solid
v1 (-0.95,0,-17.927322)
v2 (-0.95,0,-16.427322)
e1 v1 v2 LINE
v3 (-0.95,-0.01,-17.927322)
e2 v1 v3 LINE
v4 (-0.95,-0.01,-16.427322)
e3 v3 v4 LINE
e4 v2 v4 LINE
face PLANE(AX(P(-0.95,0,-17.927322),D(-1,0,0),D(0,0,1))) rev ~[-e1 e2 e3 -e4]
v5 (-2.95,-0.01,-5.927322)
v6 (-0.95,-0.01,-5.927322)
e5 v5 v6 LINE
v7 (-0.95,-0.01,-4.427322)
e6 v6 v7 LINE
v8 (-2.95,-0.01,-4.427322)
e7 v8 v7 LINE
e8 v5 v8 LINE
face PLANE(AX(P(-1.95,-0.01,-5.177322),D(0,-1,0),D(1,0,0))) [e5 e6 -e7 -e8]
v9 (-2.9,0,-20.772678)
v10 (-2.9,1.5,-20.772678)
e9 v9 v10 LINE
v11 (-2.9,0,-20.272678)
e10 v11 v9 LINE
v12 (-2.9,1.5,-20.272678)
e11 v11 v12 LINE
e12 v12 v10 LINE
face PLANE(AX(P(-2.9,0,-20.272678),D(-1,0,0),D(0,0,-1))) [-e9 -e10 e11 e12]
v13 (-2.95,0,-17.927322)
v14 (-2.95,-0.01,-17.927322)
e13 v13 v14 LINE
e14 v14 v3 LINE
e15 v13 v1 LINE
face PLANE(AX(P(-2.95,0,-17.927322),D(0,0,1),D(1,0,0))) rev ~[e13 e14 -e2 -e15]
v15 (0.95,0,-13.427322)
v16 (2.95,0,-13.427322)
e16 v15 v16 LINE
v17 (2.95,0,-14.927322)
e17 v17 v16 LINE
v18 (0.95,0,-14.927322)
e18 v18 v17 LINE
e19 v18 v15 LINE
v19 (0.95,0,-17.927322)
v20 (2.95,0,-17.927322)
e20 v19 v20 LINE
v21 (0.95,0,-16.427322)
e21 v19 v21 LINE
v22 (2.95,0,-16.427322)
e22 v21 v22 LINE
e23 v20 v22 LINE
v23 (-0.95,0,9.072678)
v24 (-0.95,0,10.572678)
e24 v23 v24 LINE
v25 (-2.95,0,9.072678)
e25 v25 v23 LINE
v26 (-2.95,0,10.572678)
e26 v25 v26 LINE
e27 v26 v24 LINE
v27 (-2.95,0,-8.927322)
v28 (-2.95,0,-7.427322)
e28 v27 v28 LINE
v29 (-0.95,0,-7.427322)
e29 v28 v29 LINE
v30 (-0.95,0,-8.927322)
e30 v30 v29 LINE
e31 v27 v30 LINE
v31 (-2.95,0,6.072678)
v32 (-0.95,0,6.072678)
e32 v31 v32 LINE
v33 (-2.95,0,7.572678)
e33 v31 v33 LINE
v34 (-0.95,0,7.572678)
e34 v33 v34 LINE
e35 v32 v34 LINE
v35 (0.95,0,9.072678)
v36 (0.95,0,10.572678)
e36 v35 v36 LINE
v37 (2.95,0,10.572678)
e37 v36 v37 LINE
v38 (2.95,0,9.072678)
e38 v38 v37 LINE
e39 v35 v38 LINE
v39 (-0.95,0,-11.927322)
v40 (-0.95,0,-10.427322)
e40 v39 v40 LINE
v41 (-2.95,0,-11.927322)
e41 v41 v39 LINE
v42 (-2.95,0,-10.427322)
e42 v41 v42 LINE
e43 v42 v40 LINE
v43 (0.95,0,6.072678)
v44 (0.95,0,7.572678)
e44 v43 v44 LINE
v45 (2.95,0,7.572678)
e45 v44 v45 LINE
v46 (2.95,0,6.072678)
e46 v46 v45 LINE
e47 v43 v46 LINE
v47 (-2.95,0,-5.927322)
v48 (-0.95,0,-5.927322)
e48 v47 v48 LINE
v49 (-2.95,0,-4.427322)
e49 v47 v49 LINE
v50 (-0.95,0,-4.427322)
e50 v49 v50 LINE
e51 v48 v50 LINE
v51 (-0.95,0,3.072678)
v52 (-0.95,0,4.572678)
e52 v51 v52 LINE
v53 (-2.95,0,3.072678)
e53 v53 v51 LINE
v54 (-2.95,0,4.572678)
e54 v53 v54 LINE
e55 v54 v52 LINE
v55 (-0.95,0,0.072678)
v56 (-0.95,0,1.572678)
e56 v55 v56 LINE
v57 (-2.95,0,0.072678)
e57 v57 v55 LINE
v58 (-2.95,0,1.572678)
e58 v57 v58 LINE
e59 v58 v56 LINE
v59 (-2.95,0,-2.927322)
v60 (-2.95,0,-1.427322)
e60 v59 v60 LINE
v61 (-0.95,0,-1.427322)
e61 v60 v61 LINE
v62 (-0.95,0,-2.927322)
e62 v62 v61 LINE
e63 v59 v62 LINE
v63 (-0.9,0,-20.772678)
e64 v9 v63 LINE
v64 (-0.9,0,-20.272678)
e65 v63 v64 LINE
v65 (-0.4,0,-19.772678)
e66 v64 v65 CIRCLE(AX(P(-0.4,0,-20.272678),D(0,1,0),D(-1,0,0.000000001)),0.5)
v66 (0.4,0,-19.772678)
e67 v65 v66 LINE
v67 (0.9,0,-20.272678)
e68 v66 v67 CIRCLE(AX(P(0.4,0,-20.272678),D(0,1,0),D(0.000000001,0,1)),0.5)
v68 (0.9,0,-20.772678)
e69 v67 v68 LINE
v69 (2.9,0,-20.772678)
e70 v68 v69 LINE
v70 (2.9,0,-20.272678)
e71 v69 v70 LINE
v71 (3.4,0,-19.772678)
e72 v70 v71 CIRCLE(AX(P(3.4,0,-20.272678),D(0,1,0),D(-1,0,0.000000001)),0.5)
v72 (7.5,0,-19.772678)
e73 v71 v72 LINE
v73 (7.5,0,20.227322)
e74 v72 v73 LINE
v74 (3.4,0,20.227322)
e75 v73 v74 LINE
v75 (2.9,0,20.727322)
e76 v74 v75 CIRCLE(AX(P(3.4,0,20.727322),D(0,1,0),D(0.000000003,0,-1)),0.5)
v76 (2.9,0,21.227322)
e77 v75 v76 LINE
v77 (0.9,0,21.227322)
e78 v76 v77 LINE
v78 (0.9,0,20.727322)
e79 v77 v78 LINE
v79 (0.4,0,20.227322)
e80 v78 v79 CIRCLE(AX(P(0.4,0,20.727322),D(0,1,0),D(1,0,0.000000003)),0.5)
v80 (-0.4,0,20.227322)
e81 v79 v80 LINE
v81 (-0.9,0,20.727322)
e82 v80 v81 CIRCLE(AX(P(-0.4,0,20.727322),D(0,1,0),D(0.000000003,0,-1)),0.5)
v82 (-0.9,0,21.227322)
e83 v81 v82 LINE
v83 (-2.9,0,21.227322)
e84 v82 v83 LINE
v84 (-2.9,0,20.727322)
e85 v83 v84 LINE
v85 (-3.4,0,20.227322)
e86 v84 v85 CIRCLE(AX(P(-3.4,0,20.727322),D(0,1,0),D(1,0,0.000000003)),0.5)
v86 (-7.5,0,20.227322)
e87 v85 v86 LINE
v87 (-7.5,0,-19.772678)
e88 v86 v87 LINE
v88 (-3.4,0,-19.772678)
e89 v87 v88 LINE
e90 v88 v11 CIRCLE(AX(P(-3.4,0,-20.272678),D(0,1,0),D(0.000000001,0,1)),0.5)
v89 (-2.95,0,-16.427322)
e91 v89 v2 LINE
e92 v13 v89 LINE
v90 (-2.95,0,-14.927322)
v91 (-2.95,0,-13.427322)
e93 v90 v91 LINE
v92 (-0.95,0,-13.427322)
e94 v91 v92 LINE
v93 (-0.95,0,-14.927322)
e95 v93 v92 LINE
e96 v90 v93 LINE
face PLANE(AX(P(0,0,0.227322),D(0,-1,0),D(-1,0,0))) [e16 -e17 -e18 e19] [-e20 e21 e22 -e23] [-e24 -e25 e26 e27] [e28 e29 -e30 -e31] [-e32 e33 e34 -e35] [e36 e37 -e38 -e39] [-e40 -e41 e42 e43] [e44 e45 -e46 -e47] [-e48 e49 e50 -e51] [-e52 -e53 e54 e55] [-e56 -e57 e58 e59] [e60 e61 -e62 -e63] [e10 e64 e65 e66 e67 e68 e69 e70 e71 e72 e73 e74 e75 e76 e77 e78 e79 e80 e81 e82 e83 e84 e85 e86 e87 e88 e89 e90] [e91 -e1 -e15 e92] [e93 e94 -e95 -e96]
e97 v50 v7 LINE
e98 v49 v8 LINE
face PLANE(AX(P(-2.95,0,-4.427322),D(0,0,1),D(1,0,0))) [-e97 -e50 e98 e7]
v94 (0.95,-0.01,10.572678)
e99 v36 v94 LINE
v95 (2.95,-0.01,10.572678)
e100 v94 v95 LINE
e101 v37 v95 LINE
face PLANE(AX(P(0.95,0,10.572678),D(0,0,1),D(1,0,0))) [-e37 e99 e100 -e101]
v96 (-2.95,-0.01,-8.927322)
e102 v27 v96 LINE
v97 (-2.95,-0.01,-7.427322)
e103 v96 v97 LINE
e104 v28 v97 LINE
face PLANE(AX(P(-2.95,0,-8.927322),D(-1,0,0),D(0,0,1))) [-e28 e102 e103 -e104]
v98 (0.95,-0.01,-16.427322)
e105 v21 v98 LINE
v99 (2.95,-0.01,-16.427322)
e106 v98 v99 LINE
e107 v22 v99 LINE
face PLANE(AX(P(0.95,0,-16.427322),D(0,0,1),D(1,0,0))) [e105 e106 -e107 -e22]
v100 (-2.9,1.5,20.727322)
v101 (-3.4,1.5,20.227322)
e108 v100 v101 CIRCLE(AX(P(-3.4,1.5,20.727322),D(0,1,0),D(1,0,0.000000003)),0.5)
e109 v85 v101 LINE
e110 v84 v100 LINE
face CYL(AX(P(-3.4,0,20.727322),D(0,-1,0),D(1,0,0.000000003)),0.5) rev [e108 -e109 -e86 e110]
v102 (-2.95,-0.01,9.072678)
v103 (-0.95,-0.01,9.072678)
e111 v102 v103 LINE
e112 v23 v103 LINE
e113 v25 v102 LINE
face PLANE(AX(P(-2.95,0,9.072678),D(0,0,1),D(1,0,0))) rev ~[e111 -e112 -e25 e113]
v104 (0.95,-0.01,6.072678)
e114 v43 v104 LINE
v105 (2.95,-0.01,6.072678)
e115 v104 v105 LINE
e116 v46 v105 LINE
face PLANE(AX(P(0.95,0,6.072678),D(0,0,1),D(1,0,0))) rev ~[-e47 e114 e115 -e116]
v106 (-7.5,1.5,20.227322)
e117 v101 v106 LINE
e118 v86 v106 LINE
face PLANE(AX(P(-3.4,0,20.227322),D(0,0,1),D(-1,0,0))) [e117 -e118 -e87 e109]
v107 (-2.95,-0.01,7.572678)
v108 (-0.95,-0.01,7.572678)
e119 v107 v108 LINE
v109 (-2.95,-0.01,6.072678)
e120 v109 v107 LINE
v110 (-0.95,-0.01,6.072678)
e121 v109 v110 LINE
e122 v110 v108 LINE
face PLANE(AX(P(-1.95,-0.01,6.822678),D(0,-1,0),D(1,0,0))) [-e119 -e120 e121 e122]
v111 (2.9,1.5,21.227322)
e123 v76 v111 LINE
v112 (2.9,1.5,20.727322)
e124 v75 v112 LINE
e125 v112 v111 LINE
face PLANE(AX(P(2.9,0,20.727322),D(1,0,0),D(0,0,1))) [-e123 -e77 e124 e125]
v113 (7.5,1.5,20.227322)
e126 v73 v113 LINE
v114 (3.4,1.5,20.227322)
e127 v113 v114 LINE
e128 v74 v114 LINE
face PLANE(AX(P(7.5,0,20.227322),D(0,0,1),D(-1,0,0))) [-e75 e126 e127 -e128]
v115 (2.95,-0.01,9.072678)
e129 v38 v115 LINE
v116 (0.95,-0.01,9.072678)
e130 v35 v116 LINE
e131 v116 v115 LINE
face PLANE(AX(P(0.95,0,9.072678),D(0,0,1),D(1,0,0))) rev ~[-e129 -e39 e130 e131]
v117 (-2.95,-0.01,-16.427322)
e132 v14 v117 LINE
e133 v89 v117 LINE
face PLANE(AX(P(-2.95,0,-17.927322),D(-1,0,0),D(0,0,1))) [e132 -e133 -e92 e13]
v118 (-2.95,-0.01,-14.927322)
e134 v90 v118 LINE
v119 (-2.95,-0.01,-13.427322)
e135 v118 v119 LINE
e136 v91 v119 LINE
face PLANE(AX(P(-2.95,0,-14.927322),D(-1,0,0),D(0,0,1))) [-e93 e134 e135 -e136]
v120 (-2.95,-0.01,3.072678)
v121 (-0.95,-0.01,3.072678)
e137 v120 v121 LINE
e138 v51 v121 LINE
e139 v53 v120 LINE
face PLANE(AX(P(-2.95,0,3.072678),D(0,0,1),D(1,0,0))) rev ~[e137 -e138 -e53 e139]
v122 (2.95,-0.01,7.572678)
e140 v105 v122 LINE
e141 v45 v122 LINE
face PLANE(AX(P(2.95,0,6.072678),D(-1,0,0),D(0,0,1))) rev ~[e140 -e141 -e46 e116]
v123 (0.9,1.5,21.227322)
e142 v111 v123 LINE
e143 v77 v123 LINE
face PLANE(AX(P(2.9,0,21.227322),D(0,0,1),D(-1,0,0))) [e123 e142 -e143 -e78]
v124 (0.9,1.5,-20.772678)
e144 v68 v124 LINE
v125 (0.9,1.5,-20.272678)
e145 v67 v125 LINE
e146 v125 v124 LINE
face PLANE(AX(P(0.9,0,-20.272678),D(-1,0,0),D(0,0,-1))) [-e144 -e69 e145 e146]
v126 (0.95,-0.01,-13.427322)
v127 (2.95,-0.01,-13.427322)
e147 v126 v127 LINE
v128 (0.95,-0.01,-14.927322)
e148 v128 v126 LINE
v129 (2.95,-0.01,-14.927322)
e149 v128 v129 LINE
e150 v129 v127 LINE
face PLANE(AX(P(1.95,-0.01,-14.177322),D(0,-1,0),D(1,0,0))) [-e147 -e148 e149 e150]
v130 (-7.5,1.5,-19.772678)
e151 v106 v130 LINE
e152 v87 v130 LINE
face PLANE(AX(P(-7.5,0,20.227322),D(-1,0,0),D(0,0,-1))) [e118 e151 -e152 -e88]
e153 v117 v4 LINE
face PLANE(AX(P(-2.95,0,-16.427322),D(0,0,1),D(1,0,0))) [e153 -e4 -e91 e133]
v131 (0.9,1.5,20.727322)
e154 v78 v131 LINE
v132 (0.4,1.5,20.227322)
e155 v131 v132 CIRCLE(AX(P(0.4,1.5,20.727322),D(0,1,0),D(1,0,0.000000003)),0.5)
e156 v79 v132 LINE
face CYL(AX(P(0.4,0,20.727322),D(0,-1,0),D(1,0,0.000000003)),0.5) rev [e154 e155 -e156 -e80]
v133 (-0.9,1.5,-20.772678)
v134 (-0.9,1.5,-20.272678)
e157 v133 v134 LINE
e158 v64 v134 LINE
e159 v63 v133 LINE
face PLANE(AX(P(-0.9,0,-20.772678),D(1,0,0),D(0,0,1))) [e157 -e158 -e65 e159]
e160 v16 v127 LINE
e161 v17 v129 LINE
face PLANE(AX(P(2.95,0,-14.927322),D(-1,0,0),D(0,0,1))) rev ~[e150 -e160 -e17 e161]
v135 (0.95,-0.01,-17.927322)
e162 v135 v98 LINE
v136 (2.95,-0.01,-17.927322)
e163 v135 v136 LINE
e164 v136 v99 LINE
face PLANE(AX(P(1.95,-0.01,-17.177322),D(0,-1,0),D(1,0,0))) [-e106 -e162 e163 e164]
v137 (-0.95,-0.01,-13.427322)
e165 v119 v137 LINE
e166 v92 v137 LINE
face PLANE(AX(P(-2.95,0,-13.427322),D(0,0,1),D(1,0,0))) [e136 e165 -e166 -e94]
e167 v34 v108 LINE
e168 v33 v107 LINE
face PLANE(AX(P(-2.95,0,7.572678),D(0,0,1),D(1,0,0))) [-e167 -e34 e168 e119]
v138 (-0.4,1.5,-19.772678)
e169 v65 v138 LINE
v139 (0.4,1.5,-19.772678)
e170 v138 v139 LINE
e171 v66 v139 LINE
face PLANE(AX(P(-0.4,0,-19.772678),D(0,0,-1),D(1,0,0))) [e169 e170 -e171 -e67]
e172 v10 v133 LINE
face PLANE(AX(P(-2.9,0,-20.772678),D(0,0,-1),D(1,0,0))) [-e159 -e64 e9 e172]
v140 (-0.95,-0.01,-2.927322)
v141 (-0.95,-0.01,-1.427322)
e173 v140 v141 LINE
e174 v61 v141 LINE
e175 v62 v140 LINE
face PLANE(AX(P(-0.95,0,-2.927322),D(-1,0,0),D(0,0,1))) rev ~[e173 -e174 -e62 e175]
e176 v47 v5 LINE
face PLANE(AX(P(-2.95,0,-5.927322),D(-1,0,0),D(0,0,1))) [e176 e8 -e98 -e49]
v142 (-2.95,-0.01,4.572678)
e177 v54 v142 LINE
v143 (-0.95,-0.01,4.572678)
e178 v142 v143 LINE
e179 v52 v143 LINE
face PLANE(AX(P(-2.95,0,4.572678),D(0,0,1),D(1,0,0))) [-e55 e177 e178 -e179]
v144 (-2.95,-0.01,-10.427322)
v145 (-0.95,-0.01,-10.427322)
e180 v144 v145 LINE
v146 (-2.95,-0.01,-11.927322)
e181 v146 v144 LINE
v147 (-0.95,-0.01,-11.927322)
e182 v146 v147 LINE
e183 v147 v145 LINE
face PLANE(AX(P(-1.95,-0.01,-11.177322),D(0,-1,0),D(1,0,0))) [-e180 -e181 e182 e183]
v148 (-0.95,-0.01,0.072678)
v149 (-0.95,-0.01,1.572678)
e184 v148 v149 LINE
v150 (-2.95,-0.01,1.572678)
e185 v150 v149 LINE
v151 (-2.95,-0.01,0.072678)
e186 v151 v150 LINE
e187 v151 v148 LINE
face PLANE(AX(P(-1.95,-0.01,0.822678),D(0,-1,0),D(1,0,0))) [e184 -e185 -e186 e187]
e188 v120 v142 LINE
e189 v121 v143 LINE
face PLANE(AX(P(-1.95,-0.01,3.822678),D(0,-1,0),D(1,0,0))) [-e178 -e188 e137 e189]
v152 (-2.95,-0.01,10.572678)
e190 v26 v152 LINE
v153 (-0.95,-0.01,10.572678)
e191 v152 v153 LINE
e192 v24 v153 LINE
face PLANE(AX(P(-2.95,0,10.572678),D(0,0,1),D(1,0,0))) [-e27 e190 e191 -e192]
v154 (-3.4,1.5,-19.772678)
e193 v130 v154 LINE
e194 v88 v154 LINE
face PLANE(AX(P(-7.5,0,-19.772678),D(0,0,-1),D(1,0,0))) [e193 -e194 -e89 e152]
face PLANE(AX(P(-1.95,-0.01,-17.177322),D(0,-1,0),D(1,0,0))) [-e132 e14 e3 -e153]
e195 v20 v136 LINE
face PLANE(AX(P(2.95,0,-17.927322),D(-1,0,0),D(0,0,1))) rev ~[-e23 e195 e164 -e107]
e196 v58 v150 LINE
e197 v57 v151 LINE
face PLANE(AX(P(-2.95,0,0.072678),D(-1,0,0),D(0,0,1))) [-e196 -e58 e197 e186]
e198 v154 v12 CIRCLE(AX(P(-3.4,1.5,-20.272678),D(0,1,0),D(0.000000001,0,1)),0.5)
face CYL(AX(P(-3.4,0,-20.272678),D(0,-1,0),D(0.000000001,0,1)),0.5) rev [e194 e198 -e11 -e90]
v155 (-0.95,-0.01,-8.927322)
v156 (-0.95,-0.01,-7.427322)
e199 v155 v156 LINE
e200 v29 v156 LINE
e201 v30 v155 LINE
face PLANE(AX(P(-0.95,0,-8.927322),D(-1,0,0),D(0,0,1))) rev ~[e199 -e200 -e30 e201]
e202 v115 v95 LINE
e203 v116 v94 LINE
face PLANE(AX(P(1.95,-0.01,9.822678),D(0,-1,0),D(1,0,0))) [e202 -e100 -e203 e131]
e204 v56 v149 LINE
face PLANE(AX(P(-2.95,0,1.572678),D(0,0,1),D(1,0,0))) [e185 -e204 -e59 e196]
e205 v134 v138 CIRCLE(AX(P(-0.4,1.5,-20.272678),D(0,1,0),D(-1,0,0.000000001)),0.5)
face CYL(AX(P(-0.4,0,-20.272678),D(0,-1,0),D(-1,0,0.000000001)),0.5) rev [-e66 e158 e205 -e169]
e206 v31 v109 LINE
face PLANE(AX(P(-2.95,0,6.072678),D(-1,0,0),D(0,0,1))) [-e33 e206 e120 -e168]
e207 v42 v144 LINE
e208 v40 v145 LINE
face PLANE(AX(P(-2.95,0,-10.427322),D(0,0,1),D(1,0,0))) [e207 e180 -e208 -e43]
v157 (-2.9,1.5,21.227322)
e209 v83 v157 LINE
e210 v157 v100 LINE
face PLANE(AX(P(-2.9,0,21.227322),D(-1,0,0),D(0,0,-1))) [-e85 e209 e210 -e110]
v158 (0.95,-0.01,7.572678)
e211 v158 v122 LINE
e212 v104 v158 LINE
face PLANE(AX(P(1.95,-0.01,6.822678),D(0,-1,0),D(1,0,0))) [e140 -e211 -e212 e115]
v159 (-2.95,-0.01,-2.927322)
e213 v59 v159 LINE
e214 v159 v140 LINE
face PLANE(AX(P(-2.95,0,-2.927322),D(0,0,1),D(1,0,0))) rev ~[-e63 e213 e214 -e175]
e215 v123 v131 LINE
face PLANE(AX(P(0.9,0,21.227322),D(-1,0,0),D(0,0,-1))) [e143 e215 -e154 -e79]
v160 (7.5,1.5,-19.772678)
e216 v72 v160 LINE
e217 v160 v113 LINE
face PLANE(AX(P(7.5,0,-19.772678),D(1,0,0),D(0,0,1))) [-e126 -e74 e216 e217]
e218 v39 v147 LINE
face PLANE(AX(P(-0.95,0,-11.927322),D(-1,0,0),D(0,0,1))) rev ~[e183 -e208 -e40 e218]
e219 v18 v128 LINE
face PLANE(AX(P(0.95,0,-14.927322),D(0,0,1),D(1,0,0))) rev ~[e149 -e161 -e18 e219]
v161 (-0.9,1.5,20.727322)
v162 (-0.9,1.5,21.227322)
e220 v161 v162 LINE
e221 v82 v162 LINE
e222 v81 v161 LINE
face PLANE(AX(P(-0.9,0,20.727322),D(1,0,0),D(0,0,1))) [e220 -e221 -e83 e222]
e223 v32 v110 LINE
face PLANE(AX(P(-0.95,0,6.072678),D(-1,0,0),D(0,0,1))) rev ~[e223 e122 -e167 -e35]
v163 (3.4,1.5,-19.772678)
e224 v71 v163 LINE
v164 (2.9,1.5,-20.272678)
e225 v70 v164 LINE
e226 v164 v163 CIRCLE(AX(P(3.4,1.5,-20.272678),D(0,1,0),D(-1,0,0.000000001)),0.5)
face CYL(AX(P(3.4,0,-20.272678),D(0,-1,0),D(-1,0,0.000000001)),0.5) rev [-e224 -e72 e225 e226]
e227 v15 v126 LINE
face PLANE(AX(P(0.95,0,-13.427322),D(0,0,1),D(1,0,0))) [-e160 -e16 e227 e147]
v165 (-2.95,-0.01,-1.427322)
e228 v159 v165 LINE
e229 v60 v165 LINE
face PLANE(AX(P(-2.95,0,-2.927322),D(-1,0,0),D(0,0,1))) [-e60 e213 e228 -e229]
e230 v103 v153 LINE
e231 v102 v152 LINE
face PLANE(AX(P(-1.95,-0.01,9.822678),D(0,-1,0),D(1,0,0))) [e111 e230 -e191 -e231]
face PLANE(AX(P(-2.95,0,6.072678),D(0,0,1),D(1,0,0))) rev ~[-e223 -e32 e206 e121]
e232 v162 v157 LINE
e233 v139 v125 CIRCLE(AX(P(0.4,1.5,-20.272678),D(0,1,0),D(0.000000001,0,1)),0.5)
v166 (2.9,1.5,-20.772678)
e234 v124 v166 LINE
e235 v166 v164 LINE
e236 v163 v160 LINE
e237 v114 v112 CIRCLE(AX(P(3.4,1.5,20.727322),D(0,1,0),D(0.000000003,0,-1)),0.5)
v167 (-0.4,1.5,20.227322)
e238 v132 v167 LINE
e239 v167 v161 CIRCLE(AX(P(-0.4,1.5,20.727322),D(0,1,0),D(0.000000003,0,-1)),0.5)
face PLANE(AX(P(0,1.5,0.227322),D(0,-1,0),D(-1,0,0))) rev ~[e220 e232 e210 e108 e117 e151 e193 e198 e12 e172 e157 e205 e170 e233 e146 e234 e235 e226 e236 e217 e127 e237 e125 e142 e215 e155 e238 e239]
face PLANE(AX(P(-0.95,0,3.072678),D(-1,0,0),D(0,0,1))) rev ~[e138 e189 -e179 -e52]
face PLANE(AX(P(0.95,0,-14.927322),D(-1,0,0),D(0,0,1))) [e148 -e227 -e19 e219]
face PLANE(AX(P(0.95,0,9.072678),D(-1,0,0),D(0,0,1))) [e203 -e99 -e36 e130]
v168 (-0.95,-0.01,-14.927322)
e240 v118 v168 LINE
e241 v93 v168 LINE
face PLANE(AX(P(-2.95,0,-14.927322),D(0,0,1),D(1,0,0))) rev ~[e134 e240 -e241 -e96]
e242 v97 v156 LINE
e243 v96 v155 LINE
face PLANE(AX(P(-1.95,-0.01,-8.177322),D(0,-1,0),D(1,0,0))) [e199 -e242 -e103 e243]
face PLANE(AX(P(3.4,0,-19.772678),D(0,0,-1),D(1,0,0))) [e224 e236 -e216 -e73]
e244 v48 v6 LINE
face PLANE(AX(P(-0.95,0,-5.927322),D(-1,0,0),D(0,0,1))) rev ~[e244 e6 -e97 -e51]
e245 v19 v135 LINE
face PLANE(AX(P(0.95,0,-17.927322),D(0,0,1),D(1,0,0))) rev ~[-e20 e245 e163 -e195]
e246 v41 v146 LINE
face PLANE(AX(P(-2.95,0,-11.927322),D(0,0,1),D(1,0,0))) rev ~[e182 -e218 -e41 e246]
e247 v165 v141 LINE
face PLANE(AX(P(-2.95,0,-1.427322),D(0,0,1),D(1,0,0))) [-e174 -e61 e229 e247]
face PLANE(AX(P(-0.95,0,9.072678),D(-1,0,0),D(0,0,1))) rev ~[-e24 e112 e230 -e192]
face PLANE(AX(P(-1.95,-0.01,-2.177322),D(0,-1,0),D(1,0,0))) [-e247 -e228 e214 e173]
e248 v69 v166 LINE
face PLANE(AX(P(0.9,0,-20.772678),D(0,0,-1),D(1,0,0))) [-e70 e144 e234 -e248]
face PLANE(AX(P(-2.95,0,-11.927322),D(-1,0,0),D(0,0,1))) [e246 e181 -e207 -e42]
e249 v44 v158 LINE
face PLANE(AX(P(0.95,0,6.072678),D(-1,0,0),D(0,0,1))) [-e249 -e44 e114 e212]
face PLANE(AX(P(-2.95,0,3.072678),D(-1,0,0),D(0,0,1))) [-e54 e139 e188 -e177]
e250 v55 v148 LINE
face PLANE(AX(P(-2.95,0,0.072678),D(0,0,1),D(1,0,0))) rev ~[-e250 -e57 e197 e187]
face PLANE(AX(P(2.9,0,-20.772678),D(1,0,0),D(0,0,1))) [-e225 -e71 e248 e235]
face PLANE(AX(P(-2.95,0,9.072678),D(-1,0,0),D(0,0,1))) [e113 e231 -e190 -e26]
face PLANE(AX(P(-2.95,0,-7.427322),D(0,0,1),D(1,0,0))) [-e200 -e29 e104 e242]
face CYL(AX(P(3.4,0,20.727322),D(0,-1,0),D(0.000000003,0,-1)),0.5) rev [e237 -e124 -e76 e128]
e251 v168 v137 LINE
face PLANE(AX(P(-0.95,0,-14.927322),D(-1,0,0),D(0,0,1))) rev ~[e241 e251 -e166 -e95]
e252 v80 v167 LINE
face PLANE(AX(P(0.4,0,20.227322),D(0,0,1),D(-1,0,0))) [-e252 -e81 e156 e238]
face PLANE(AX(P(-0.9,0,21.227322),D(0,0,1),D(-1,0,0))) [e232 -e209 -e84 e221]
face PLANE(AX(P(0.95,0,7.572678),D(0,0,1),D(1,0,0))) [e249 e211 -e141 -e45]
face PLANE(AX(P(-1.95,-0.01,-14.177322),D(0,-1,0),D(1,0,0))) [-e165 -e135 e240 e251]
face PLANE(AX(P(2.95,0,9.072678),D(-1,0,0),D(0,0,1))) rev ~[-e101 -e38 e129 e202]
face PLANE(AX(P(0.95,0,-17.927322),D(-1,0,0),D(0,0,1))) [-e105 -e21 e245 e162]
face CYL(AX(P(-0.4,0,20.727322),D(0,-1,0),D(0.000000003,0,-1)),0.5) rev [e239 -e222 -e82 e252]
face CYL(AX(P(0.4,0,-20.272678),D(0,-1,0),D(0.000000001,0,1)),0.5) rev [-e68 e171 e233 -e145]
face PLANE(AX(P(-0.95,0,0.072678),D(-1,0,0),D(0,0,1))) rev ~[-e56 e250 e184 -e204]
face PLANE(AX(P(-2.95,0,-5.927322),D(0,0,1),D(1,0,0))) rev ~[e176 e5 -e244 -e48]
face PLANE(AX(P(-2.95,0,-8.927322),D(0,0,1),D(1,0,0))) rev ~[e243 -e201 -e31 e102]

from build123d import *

# Parameters (mm, degrees)
BOSS_EXTRUDE1_DEPTH = 1.5
SKETCH2_W           = 2
SKETCH2_H           = 1.5
BOSS_EXTRUDE2_DEPTH = 0.01


with BuildPart() as part:
    # Sketch1 → Boss-Extrude1 (new body)
    with BuildSketch(Plane(origin=(0, 0, 0), x_dir=(1, 0, 0), z_dir=(0, 1, 0))):
        with BuildLine():
            Line((-7.5, -20.227321531), (-7.5, 19.772678469))
            Line((-7.5, 19.772678469), (-3.4, 19.772678469))
            ThreePointArc((-3.4, 19.772678469), (-3.046446609, 19.919125079), (-2.9, 20.272678469))
            Line((-2.9, 20.272678469), (-2.9, 20.772678469))
            Line((-2.9, 20.772678469), (-0.9, 20.772678469))
            Line((-0.9, 20.772678469), (-0.9, 20.272678469))
            ThreePointArc((-0.9, 20.272678469), (-0.753553391, 19.919125079), (-0.4, 19.772678469))
            Line((-0.4, 19.772678469), (0.4, 19.772678469))
            ThreePointArc((0.4, 19.772678469), (0.753553391, 19.919125079), (0.9, 20.272678469))
            Line((0.9, 20.272678469), (0.9, 20.772678469))
            Line((0.9, 20.772678469), (2.9, 20.772678469))
            Line((2.9, 20.772678469), (2.9, 20.272678469))
            ThreePointArc((2.9, 20.272678469), (3.046446609, 19.919125079), (3.4, 19.772678469))
            Line((3.4, 19.772678469), (7.5, 19.772678469))
            Line((7.5, 19.772678469), (7.5, -20.227321531))
            Line((7.5, -20.227321531), (3.4, -20.227321531))
            ThreePointArc((3.4, -20.227321531), (3.046446609, -20.37376814), (2.9, -20.727321531))
            Line((2.9, -20.727321531), (2.9, -21.227321531))
            Line((2.9, -21.227321531), (0.9, -21.227321531))
            Line((0.9, -21.227321531), (0.9, -20.727321531))
            ThreePointArc((0.9, -20.727321531), (0.753553391, -20.37376814), (0.4, -20.227321531))
            Line((0.4, -20.227321531), (-0.4, -20.227321531))
            ThreePointArc((-0.4, -20.227321531), (-0.753553391, -20.37376814), (-0.9, -20.727321531))
            Line((-0.9, -20.727321531), (-0.9, -21.227321531))
            Line((-0.9, -21.227321531), (-2.9, -21.227321531))
            Line((-2.9, -21.227321531), (-2.9, -20.727321531))
            ThreePointArc((-2.9, -20.727321531), (-3.046446609, -20.37376814), (-3.4, -20.227321531))
            Line((-3.4, -20.227321531), (-7.5, -20.227321531))
        make_face()
    extrude(amount=BOSS_EXTRUDE1_DEPTH)

    # Sketch2 → Boss-Extrude2 (add)
    with BuildSketch(Plane.XZ):
        with Locations((-1.95, -17.177321531)):
            Rectangle(SKETCH2_W, SKETCH2_H)
        with Locations((1.95, -17.177321531)):
            Rectangle(SKETCH2_W, SKETCH2_H)
        with Locations((-1.95, -14.177321531)):
            Rectangle(SKETCH2_W, SKETCH2_H)
        with Locations((1.95, -14.177321531)):
            Rectangle(SKETCH2_W, SKETCH2_H)
        with Locations((-1.95, -11.177321531)):
            Rectangle(SKETCH2_W, SKETCH2_H)
        with Locations((-1.95, -8.177321531)):
            Rectangle(SKETCH2_W, SKETCH2_H)
        with Locations((-1.95, -5.177321531)):
            Rectangle(SKETCH2_W, SKETCH2_H)
        with Locations((-1.95, -2.177321531)):
            Rectangle(SKETCH2_W, SKETCH2_H)
        with Locations((-1.95, 0.822678469)):
            Rectangle(SKETCH2_W, SKETCH2_H)
        with Locations((-1.95, 3.822678469)):
            Rectangle(SKETCH2_W, SKETCH2_H)
        with Locations((-1.95, 6.822678469)):
            Rectangle(SKETCH2_W, SKETCH2_H)
        with Locations((1.95, 6.822678469)):
            Rectangle(SKETCH2_W, SKETCH2_H)
        with Locations((-1.95, 9.822678469)):
            Rectangle(SKETCH2_W, SKETCH2_H)
        with Locations((1.95, 9.822678469)):
            Rectangle(SKETCH2_W, SKETCH2_H)
    extrude(amount=BOSS_EXTRUDE2_DEPTH)


solid = part.part
